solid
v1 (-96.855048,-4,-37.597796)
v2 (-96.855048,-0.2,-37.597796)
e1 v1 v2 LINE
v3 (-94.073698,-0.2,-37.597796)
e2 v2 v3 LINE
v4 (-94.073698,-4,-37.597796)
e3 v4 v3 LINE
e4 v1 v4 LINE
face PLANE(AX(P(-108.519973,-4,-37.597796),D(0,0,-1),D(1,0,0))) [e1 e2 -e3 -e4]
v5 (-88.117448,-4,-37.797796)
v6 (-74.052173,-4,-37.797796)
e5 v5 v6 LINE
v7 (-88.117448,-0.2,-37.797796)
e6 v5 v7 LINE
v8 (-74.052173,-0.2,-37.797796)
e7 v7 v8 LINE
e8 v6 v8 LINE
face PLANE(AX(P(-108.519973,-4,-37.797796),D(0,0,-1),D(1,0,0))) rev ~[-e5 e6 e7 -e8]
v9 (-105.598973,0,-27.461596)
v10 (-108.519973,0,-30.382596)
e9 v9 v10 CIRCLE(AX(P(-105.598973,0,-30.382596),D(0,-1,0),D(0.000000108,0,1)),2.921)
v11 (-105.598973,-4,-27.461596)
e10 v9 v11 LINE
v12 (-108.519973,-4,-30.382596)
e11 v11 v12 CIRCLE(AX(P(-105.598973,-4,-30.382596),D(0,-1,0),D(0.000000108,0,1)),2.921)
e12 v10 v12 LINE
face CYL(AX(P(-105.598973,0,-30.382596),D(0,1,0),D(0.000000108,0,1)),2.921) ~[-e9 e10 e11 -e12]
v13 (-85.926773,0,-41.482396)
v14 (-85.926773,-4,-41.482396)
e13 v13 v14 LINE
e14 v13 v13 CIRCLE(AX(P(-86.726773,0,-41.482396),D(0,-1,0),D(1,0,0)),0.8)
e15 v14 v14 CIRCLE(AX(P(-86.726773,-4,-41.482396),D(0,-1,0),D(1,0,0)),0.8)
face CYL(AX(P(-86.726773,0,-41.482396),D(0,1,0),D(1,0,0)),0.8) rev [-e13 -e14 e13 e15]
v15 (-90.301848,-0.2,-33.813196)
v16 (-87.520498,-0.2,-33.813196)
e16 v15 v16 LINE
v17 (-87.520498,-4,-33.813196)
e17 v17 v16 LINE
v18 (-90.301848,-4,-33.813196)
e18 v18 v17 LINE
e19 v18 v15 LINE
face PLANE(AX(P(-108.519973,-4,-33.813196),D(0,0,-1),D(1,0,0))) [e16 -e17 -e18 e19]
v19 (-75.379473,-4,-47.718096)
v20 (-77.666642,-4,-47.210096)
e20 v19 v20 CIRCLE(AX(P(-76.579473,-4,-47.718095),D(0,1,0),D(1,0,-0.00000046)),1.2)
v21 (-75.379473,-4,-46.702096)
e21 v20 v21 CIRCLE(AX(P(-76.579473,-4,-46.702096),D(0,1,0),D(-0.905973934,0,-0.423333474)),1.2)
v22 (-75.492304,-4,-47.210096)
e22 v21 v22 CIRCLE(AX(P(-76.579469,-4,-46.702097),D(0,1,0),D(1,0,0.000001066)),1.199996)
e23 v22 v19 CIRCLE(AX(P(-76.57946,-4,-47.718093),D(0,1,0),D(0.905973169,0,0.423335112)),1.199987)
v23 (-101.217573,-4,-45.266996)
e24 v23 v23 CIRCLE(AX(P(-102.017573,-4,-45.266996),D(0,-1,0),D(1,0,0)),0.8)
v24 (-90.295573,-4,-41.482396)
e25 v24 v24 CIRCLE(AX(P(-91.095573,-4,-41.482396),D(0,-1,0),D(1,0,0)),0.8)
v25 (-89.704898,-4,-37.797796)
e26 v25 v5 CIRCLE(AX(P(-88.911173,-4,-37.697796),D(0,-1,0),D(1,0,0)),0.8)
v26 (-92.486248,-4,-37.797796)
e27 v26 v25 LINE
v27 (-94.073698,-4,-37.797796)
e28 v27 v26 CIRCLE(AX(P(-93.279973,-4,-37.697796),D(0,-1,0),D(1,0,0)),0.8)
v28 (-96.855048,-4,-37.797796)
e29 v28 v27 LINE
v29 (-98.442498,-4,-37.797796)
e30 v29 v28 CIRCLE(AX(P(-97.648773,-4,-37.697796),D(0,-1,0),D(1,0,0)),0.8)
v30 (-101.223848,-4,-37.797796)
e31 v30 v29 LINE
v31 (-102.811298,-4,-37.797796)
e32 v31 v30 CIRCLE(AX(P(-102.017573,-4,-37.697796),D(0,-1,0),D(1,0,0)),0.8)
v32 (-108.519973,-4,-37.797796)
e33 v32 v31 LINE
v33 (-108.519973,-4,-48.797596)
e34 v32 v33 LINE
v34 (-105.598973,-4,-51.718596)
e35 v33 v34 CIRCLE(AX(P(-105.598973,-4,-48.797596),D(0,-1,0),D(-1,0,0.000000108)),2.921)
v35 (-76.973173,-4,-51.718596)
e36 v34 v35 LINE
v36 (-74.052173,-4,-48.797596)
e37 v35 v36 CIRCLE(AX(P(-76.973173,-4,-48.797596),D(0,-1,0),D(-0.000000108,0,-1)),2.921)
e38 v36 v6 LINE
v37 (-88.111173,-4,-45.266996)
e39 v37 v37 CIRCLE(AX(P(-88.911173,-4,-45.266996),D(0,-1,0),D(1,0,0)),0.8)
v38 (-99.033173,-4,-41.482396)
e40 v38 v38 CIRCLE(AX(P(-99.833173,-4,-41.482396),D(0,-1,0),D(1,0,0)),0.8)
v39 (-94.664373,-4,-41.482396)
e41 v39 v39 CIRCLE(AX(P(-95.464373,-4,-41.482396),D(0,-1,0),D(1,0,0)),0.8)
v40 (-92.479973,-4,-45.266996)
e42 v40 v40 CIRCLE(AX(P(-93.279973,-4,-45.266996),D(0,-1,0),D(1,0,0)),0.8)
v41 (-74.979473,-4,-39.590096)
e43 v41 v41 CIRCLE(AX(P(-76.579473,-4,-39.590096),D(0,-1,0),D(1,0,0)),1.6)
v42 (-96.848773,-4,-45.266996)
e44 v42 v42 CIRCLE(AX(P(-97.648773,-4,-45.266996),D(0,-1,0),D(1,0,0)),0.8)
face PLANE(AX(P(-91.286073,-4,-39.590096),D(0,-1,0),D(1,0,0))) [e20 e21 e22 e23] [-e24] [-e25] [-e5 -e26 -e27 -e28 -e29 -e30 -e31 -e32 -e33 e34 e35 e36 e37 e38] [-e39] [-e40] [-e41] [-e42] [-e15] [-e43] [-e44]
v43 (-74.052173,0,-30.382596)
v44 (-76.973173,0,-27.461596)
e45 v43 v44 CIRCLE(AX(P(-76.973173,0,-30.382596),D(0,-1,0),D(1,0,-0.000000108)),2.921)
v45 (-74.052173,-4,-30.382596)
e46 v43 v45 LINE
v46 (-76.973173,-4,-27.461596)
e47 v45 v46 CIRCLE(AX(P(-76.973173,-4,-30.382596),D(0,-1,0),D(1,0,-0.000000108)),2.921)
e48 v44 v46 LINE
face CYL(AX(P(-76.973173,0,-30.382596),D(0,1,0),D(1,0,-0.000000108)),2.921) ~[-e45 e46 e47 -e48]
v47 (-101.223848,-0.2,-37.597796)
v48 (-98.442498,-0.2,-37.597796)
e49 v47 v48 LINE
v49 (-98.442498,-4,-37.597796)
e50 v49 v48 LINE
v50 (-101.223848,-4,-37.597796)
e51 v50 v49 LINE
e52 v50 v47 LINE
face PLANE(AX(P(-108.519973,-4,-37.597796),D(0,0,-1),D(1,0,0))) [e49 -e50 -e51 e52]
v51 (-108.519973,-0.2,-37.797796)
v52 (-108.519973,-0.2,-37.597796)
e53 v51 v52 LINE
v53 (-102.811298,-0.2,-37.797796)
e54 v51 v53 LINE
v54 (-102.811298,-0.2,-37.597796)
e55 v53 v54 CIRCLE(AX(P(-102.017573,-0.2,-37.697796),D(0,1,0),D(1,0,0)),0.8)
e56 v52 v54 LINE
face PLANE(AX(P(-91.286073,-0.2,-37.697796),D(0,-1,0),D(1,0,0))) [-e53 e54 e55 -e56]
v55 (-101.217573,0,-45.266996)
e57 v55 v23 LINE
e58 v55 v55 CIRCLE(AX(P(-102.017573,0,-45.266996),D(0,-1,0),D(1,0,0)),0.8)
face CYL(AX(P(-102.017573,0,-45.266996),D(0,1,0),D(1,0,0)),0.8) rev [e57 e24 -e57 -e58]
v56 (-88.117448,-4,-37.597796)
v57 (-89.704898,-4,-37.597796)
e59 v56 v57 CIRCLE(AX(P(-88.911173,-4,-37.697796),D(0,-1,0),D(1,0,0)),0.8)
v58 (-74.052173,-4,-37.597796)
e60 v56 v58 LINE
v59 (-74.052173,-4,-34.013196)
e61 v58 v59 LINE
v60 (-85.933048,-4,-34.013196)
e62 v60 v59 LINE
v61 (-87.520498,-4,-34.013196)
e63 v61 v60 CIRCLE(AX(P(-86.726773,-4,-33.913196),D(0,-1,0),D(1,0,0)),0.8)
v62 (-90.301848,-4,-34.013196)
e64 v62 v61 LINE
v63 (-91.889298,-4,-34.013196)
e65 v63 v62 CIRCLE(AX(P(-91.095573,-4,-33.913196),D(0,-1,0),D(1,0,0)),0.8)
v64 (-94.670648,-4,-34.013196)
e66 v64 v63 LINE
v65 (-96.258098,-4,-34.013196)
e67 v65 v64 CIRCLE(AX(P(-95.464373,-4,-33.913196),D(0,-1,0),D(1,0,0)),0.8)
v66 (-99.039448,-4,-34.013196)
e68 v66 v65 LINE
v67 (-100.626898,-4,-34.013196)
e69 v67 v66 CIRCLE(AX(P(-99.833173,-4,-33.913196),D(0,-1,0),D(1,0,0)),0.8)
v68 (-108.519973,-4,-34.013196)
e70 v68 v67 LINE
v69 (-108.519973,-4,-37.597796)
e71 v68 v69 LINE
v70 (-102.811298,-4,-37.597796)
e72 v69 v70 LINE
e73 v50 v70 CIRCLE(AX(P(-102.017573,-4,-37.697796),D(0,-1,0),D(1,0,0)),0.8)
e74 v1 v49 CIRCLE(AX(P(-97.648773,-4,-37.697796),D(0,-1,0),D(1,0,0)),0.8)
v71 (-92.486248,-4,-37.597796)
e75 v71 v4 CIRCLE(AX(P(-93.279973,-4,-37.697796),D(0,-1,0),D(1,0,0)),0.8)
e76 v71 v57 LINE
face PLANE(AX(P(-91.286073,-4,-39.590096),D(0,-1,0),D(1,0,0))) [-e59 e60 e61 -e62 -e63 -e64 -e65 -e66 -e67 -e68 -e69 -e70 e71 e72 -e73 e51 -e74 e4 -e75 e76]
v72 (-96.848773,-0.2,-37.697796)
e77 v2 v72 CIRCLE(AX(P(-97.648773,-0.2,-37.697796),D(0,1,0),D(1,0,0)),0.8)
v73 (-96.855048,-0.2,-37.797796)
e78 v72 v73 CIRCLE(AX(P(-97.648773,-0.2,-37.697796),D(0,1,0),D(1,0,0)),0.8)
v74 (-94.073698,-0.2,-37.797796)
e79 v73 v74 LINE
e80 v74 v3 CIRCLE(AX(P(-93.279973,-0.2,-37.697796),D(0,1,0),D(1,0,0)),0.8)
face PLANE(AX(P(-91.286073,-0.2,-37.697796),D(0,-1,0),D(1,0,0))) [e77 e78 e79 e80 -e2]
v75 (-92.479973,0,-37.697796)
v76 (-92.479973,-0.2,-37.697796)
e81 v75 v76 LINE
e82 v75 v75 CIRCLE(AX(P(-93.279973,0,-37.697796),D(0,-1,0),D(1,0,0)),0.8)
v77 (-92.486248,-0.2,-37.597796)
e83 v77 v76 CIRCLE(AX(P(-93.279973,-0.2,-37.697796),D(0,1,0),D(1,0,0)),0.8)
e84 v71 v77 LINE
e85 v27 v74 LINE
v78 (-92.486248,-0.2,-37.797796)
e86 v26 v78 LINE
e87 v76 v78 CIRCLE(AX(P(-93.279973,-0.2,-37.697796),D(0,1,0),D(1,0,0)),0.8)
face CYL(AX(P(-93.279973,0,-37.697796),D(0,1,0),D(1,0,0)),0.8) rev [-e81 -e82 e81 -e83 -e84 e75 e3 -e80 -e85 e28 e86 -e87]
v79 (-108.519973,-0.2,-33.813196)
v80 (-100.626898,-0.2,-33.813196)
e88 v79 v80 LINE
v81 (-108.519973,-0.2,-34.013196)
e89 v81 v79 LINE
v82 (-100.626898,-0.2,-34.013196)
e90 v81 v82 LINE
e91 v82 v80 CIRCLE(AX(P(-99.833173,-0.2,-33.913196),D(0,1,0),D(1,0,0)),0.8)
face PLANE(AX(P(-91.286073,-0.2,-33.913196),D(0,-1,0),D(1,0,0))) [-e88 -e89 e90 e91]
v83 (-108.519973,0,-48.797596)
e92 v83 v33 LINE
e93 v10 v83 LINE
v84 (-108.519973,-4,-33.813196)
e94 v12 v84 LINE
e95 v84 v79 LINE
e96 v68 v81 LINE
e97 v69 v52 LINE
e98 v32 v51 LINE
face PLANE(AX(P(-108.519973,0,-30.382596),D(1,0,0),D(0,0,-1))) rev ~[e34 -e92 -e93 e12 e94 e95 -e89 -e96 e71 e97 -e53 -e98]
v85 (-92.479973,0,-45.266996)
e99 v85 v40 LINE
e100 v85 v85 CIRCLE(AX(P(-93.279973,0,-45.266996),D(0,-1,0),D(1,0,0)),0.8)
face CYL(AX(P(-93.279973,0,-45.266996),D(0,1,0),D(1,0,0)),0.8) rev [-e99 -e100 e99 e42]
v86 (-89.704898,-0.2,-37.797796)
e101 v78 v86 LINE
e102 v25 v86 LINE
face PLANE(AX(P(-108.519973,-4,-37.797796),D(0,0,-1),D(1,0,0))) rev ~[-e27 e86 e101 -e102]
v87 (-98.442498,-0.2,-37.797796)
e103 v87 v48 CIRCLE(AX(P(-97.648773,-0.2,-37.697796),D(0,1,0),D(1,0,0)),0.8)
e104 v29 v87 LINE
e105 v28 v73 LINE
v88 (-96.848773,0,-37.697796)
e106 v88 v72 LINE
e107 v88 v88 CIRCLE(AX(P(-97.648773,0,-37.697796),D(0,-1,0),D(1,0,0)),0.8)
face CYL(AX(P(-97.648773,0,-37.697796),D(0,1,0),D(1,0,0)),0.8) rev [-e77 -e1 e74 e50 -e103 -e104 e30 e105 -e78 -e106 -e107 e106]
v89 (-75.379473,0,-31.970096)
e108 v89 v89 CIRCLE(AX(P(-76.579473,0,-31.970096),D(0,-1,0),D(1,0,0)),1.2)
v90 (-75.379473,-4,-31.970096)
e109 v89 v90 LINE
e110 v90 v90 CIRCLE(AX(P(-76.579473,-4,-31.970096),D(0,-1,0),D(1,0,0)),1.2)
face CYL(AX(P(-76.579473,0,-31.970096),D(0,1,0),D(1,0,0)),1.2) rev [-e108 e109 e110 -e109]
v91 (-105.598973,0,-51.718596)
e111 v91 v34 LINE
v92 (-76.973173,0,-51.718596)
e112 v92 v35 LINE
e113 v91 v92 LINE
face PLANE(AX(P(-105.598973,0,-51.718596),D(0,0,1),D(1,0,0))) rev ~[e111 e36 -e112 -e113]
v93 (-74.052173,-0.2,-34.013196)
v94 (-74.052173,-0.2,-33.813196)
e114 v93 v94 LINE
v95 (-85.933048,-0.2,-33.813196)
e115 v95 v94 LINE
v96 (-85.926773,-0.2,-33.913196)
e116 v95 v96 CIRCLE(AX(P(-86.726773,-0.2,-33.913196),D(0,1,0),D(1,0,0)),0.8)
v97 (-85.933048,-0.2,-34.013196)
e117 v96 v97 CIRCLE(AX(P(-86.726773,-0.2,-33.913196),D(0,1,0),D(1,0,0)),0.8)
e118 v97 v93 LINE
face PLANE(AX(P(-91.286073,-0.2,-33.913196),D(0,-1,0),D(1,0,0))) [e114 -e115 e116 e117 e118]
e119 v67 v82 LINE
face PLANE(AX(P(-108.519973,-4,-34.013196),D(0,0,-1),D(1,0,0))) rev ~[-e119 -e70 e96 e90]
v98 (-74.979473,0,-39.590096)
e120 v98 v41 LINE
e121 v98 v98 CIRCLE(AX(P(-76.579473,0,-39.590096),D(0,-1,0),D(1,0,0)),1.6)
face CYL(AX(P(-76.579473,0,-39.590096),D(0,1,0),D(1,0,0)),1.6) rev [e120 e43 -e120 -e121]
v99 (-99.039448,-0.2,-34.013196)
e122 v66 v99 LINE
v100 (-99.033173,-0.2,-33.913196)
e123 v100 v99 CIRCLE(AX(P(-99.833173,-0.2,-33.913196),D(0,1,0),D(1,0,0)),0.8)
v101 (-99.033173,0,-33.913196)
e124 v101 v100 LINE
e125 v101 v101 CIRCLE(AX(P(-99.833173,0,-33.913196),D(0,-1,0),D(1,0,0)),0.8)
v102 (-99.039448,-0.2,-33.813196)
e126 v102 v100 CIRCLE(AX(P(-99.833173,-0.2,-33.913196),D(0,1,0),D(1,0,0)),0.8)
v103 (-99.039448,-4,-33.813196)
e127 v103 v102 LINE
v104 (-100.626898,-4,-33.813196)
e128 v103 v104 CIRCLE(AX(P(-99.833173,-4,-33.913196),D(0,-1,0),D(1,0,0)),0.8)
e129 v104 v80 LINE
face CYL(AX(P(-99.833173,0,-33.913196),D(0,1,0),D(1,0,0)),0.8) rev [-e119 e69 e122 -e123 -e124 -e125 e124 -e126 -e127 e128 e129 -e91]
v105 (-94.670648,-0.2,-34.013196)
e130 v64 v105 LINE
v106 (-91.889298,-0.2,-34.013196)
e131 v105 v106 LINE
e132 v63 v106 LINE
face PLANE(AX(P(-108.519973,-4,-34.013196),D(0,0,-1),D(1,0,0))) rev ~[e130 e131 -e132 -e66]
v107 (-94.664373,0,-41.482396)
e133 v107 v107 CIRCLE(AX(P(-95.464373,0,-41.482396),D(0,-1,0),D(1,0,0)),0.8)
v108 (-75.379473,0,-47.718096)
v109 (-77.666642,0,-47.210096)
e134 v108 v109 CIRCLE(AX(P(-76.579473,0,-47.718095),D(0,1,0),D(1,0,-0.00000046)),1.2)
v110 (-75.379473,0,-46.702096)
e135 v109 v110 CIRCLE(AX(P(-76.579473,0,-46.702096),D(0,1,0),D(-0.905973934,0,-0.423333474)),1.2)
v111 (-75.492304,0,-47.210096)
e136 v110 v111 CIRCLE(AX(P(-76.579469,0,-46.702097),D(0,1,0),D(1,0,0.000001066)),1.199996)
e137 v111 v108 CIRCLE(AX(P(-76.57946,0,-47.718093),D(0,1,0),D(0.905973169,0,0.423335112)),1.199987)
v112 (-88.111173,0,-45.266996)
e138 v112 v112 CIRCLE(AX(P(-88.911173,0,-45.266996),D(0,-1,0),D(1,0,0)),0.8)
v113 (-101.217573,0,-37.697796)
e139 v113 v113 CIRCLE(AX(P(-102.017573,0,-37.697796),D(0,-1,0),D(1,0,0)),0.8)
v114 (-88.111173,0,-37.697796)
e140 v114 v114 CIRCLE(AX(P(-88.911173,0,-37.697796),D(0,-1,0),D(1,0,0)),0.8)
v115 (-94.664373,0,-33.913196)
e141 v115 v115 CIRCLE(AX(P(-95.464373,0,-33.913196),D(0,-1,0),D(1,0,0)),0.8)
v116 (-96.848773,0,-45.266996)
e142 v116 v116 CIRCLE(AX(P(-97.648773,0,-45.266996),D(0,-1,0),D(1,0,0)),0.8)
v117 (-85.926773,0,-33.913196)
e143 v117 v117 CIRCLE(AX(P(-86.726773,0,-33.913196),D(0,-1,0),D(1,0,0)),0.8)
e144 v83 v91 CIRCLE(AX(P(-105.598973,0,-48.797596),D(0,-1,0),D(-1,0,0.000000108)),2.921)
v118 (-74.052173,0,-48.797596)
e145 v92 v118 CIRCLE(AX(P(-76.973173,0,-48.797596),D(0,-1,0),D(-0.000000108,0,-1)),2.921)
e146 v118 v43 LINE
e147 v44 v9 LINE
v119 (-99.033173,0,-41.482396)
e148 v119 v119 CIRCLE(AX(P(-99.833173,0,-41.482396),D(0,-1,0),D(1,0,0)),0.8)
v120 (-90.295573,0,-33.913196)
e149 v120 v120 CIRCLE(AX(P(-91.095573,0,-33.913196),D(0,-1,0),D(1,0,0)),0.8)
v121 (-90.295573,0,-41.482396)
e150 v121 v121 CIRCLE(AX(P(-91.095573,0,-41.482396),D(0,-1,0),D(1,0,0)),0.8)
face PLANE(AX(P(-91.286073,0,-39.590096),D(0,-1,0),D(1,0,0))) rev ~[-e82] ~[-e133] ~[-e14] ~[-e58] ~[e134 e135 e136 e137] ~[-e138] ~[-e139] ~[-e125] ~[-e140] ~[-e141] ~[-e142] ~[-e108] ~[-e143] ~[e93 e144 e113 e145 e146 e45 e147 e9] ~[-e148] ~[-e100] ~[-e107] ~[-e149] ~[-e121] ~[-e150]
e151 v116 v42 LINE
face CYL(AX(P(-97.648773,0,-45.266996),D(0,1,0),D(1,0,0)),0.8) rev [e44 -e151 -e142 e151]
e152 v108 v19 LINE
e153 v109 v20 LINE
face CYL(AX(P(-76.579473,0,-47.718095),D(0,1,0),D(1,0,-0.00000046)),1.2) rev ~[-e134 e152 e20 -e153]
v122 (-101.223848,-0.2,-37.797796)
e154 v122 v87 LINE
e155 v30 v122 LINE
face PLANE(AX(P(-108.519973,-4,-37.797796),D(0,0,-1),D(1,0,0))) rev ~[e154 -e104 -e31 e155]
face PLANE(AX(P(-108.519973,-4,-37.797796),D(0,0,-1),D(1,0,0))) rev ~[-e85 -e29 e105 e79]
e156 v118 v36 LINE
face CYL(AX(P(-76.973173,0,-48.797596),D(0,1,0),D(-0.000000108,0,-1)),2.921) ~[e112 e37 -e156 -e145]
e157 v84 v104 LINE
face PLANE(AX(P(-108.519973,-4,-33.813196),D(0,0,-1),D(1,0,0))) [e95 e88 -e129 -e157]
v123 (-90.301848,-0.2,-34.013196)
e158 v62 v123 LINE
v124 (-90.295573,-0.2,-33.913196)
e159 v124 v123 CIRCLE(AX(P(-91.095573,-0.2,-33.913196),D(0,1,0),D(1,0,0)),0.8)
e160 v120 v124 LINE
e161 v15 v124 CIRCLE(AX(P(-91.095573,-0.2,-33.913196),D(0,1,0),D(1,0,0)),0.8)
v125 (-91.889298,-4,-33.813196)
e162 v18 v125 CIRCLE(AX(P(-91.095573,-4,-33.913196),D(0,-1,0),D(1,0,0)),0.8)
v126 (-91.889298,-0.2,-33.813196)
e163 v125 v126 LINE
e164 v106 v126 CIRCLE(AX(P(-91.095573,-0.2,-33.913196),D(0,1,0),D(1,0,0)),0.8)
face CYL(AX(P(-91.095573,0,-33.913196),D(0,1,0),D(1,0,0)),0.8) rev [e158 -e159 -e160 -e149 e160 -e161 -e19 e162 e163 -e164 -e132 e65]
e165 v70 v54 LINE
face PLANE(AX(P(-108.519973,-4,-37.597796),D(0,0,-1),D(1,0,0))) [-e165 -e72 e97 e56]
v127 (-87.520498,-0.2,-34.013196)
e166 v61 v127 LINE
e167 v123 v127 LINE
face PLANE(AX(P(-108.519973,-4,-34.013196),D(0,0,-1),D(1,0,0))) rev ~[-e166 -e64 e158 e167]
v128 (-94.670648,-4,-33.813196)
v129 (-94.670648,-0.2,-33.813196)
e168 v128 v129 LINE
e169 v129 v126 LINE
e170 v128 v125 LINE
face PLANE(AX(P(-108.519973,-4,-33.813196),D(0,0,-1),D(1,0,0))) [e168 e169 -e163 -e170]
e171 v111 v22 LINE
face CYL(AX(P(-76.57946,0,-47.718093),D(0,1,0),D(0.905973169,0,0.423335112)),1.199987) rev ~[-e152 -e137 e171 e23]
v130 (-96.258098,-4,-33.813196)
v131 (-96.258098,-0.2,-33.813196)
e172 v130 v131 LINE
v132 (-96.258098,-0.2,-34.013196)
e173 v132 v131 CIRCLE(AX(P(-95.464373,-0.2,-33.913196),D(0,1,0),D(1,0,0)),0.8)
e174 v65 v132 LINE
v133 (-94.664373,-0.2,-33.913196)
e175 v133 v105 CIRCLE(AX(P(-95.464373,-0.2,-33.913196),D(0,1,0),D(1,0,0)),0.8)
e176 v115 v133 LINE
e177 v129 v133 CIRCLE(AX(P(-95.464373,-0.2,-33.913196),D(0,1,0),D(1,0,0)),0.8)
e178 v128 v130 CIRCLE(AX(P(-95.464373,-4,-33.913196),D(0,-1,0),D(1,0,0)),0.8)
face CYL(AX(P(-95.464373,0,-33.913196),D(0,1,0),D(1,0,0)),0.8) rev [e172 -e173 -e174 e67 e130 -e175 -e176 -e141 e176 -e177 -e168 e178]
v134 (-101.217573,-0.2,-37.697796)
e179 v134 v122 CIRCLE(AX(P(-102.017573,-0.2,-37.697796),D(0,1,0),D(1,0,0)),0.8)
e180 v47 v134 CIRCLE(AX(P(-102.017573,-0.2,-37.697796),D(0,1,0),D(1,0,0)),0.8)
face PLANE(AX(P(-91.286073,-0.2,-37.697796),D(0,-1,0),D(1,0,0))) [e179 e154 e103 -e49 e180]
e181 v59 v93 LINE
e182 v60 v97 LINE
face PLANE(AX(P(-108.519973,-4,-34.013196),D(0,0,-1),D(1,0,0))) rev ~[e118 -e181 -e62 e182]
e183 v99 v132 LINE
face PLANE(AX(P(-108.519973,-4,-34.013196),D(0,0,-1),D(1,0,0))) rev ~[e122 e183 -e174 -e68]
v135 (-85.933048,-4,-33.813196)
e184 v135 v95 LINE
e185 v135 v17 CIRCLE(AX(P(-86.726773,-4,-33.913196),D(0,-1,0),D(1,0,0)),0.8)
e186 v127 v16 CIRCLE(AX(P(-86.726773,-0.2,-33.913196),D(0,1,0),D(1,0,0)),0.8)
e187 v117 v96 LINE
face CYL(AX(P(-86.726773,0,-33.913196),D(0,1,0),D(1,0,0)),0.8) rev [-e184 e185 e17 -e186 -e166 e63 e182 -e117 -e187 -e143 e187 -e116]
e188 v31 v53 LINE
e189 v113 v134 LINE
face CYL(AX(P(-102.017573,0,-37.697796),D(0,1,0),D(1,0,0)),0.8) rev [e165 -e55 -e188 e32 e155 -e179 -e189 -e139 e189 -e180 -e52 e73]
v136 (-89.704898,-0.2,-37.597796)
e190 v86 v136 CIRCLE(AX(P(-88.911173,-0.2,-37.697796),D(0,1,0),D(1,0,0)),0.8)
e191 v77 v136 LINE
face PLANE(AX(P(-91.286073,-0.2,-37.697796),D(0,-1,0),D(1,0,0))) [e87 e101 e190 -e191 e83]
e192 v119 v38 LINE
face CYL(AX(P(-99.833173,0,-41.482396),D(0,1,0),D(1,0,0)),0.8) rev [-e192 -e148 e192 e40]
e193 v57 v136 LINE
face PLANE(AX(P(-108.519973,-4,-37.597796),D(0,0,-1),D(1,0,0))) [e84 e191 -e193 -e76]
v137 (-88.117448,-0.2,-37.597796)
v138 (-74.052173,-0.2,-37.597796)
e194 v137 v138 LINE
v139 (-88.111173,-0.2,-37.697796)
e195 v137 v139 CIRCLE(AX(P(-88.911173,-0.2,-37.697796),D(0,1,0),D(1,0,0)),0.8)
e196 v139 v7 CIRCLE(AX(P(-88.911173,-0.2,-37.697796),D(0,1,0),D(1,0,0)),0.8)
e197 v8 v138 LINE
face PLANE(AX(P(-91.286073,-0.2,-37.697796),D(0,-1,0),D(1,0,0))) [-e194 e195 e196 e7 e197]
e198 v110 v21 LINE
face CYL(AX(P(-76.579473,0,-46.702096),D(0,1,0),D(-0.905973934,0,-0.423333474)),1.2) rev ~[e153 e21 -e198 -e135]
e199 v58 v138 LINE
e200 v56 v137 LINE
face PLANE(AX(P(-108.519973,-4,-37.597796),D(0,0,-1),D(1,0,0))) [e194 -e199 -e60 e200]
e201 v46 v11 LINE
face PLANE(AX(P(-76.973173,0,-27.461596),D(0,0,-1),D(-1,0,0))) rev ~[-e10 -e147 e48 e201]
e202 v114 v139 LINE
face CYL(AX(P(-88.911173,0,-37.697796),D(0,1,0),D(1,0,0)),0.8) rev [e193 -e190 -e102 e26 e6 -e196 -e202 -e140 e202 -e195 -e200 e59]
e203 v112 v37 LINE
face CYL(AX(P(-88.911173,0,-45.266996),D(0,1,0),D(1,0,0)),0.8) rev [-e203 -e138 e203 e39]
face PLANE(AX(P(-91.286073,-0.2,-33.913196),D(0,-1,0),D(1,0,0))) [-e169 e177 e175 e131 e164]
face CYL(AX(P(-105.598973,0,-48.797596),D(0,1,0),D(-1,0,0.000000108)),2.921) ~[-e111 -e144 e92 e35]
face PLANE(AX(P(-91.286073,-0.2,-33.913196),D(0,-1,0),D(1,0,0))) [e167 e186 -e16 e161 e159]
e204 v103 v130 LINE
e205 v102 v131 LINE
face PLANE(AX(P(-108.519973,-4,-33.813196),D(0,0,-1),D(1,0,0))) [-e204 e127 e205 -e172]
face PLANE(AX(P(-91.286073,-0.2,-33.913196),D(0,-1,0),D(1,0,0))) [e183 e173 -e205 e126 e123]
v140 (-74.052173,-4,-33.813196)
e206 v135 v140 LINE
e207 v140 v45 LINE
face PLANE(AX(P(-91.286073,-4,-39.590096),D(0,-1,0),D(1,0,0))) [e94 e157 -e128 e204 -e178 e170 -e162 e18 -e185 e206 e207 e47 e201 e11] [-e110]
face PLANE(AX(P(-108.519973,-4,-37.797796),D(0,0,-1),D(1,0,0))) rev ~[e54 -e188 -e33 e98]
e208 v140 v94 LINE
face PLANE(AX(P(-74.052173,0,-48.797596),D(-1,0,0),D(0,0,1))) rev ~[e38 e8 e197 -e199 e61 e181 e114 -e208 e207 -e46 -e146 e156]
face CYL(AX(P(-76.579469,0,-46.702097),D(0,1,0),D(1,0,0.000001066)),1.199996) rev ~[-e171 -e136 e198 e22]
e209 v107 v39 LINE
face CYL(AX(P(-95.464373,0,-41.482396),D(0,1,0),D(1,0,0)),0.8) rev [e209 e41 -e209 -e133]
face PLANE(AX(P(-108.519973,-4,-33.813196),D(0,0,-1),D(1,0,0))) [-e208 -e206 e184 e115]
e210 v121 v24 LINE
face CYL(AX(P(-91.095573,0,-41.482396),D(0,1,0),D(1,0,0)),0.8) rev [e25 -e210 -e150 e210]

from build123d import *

# Parameters (mm, degrees)
F0_R     = 0.8
F0_R_2   = 1.6
F0_R_3   = 1.2
F1_DEPTH = 4
F2_W     = 34.4678
F2_H     = 0.2
F3_DEPTH = 3.8


with BuildPart() as f1:
    # F0 (on Front) → F1 (new body)
    with BuildSketch(Plane.XZ):
        with BuildLine():
            Line((-76.973173, -27.461596), (-105.598973, -27.461596))
            ThreePointArc((-105.598973, -27.461596), (-107.664432, -28.317137), (-108.519973, -30.382596))
            Line((-108.519973, -30.382596), (-108.519973, -48.797596))
            ThreePointArc((-108.519973, -48.797596), (-107.664432, -50.863055), (-105.598973, -51.718596))
            Line((-105.598973, -51.718596), (-76.973173, -51.718596))
            ThreePointArc((-76.973173, -51.718596), (-74.907714, -50.863055), (-74.052173, -48.797596))
            Line((-74.052173, -48.797596), (-74.052173, -30.382596))
            ThreePointArc((-74.052173, -30.382596), (-74.907714, -28.317137), (-76.973173, -27.461596))
        make_face()
        with Locations((-102.017573, -45.266996)):
            Circle(F0_R, mode=Mode.SUBTRACT)
        with Locations((-97.648773, -45.266996)):
            Circle(F0_R, mode=Mode.SUBTRACT)
        with Locations((-93.279973, -45.266996)):
            Circle(F0_R, mode=Mode.SUBTRACT)
        with Locations((-99.833173, -41.482396)):
            Circle(F0_R, mode=Mode.SUBTRACT)
        with Locations((-95.464373, -41.482396)):
            Circle(F0_R, mode=Mode.SUBTRACT)
        with BuildLine():
            ThreePointArc((-77.666642, -47.210096), (-76.839663, -45.530643), (-75.379473, -46.702096))
            ThreePointArc((-75.379473, -46.702096), (-75.40802, -46.962285), (-75.492304, -47.210096))
            ThreePointArc((-75.492304, -47.210096), (-75.40802, -47.457906), (-75.379473, -47.718096))
            ThreePointArc((-75.379473, -47.718096), (-76.839663, -48.889548), (-77.666642, -47.210096))
        make_face(mode=Mode.SUBTRACT)
        with Locations((-88.911173, -45.266996)):
            Circle(F0_R, mode=Mode.SUBTRACT)
        with Locations((-91.095573, -41.482396)):
            Circle(F0_R, mode=Mode.SUBTRACT)
        with Locations((-86.726773, -41.482396)):
            Circle(F0_R, mode=Mode.SUBTRACT)
        with Locations((-76.579473, -39.590096)):
            Circle(F0_R_2, mode=Mode.SUBTRACT)
        with Locations((-102.017573, -37.697796)):
            Circle(F0_R, mode=Mode.SUBTRACT)
        with Locations((-97.648773, -37.697796)):
            Circle(F0_R, mode=Mode.SUBTRACT)
        with Locations((-93.279973, -37.697796)):
            Circle(F0_R, mode=Mode.SUBTRACT)
        with Locations((-99.833173, -33.913196)):
            Circle(F0_R, mode=Mode.SUBTRACT)
        with Locations((-95.464373, -33.913196)):
            Circle(F0_R, mode=Mode.SUBTRACT)
        with Locations((-88.911173, -37.697796)):
            Circle(F0_R, mode=Mode.SUBTRACT)
        with Locations((-91.095573, -33.913196)):
            Circle(F0_R, mode=Mode.SUBTRACT)
        with Locations((-86.726773, -33.913196)):
            Circle(F0_R, mode=Mode.SUBTRACT)
        with Locations((-76.579473, -31.970096)):
            Circle(F0_R_3, mode=Mode.SUBTRACT)
    extrude(amount=F1_DEPTH)

    # F2 (on face) → F3 (cut)
    with BuildSketch(Plane.XZ.offset(4)):
        with Locations((-91.286073, -33.913196)):
            Rectangle(F2_W, F2_H)
        with Locations((-91.286073, -37.697796)):
            Rectangle(F2_W, F2_H)
    extrude(amount=-F3_DEPTH, mode=Mode.SUBTRACT)


solid = f1.part
